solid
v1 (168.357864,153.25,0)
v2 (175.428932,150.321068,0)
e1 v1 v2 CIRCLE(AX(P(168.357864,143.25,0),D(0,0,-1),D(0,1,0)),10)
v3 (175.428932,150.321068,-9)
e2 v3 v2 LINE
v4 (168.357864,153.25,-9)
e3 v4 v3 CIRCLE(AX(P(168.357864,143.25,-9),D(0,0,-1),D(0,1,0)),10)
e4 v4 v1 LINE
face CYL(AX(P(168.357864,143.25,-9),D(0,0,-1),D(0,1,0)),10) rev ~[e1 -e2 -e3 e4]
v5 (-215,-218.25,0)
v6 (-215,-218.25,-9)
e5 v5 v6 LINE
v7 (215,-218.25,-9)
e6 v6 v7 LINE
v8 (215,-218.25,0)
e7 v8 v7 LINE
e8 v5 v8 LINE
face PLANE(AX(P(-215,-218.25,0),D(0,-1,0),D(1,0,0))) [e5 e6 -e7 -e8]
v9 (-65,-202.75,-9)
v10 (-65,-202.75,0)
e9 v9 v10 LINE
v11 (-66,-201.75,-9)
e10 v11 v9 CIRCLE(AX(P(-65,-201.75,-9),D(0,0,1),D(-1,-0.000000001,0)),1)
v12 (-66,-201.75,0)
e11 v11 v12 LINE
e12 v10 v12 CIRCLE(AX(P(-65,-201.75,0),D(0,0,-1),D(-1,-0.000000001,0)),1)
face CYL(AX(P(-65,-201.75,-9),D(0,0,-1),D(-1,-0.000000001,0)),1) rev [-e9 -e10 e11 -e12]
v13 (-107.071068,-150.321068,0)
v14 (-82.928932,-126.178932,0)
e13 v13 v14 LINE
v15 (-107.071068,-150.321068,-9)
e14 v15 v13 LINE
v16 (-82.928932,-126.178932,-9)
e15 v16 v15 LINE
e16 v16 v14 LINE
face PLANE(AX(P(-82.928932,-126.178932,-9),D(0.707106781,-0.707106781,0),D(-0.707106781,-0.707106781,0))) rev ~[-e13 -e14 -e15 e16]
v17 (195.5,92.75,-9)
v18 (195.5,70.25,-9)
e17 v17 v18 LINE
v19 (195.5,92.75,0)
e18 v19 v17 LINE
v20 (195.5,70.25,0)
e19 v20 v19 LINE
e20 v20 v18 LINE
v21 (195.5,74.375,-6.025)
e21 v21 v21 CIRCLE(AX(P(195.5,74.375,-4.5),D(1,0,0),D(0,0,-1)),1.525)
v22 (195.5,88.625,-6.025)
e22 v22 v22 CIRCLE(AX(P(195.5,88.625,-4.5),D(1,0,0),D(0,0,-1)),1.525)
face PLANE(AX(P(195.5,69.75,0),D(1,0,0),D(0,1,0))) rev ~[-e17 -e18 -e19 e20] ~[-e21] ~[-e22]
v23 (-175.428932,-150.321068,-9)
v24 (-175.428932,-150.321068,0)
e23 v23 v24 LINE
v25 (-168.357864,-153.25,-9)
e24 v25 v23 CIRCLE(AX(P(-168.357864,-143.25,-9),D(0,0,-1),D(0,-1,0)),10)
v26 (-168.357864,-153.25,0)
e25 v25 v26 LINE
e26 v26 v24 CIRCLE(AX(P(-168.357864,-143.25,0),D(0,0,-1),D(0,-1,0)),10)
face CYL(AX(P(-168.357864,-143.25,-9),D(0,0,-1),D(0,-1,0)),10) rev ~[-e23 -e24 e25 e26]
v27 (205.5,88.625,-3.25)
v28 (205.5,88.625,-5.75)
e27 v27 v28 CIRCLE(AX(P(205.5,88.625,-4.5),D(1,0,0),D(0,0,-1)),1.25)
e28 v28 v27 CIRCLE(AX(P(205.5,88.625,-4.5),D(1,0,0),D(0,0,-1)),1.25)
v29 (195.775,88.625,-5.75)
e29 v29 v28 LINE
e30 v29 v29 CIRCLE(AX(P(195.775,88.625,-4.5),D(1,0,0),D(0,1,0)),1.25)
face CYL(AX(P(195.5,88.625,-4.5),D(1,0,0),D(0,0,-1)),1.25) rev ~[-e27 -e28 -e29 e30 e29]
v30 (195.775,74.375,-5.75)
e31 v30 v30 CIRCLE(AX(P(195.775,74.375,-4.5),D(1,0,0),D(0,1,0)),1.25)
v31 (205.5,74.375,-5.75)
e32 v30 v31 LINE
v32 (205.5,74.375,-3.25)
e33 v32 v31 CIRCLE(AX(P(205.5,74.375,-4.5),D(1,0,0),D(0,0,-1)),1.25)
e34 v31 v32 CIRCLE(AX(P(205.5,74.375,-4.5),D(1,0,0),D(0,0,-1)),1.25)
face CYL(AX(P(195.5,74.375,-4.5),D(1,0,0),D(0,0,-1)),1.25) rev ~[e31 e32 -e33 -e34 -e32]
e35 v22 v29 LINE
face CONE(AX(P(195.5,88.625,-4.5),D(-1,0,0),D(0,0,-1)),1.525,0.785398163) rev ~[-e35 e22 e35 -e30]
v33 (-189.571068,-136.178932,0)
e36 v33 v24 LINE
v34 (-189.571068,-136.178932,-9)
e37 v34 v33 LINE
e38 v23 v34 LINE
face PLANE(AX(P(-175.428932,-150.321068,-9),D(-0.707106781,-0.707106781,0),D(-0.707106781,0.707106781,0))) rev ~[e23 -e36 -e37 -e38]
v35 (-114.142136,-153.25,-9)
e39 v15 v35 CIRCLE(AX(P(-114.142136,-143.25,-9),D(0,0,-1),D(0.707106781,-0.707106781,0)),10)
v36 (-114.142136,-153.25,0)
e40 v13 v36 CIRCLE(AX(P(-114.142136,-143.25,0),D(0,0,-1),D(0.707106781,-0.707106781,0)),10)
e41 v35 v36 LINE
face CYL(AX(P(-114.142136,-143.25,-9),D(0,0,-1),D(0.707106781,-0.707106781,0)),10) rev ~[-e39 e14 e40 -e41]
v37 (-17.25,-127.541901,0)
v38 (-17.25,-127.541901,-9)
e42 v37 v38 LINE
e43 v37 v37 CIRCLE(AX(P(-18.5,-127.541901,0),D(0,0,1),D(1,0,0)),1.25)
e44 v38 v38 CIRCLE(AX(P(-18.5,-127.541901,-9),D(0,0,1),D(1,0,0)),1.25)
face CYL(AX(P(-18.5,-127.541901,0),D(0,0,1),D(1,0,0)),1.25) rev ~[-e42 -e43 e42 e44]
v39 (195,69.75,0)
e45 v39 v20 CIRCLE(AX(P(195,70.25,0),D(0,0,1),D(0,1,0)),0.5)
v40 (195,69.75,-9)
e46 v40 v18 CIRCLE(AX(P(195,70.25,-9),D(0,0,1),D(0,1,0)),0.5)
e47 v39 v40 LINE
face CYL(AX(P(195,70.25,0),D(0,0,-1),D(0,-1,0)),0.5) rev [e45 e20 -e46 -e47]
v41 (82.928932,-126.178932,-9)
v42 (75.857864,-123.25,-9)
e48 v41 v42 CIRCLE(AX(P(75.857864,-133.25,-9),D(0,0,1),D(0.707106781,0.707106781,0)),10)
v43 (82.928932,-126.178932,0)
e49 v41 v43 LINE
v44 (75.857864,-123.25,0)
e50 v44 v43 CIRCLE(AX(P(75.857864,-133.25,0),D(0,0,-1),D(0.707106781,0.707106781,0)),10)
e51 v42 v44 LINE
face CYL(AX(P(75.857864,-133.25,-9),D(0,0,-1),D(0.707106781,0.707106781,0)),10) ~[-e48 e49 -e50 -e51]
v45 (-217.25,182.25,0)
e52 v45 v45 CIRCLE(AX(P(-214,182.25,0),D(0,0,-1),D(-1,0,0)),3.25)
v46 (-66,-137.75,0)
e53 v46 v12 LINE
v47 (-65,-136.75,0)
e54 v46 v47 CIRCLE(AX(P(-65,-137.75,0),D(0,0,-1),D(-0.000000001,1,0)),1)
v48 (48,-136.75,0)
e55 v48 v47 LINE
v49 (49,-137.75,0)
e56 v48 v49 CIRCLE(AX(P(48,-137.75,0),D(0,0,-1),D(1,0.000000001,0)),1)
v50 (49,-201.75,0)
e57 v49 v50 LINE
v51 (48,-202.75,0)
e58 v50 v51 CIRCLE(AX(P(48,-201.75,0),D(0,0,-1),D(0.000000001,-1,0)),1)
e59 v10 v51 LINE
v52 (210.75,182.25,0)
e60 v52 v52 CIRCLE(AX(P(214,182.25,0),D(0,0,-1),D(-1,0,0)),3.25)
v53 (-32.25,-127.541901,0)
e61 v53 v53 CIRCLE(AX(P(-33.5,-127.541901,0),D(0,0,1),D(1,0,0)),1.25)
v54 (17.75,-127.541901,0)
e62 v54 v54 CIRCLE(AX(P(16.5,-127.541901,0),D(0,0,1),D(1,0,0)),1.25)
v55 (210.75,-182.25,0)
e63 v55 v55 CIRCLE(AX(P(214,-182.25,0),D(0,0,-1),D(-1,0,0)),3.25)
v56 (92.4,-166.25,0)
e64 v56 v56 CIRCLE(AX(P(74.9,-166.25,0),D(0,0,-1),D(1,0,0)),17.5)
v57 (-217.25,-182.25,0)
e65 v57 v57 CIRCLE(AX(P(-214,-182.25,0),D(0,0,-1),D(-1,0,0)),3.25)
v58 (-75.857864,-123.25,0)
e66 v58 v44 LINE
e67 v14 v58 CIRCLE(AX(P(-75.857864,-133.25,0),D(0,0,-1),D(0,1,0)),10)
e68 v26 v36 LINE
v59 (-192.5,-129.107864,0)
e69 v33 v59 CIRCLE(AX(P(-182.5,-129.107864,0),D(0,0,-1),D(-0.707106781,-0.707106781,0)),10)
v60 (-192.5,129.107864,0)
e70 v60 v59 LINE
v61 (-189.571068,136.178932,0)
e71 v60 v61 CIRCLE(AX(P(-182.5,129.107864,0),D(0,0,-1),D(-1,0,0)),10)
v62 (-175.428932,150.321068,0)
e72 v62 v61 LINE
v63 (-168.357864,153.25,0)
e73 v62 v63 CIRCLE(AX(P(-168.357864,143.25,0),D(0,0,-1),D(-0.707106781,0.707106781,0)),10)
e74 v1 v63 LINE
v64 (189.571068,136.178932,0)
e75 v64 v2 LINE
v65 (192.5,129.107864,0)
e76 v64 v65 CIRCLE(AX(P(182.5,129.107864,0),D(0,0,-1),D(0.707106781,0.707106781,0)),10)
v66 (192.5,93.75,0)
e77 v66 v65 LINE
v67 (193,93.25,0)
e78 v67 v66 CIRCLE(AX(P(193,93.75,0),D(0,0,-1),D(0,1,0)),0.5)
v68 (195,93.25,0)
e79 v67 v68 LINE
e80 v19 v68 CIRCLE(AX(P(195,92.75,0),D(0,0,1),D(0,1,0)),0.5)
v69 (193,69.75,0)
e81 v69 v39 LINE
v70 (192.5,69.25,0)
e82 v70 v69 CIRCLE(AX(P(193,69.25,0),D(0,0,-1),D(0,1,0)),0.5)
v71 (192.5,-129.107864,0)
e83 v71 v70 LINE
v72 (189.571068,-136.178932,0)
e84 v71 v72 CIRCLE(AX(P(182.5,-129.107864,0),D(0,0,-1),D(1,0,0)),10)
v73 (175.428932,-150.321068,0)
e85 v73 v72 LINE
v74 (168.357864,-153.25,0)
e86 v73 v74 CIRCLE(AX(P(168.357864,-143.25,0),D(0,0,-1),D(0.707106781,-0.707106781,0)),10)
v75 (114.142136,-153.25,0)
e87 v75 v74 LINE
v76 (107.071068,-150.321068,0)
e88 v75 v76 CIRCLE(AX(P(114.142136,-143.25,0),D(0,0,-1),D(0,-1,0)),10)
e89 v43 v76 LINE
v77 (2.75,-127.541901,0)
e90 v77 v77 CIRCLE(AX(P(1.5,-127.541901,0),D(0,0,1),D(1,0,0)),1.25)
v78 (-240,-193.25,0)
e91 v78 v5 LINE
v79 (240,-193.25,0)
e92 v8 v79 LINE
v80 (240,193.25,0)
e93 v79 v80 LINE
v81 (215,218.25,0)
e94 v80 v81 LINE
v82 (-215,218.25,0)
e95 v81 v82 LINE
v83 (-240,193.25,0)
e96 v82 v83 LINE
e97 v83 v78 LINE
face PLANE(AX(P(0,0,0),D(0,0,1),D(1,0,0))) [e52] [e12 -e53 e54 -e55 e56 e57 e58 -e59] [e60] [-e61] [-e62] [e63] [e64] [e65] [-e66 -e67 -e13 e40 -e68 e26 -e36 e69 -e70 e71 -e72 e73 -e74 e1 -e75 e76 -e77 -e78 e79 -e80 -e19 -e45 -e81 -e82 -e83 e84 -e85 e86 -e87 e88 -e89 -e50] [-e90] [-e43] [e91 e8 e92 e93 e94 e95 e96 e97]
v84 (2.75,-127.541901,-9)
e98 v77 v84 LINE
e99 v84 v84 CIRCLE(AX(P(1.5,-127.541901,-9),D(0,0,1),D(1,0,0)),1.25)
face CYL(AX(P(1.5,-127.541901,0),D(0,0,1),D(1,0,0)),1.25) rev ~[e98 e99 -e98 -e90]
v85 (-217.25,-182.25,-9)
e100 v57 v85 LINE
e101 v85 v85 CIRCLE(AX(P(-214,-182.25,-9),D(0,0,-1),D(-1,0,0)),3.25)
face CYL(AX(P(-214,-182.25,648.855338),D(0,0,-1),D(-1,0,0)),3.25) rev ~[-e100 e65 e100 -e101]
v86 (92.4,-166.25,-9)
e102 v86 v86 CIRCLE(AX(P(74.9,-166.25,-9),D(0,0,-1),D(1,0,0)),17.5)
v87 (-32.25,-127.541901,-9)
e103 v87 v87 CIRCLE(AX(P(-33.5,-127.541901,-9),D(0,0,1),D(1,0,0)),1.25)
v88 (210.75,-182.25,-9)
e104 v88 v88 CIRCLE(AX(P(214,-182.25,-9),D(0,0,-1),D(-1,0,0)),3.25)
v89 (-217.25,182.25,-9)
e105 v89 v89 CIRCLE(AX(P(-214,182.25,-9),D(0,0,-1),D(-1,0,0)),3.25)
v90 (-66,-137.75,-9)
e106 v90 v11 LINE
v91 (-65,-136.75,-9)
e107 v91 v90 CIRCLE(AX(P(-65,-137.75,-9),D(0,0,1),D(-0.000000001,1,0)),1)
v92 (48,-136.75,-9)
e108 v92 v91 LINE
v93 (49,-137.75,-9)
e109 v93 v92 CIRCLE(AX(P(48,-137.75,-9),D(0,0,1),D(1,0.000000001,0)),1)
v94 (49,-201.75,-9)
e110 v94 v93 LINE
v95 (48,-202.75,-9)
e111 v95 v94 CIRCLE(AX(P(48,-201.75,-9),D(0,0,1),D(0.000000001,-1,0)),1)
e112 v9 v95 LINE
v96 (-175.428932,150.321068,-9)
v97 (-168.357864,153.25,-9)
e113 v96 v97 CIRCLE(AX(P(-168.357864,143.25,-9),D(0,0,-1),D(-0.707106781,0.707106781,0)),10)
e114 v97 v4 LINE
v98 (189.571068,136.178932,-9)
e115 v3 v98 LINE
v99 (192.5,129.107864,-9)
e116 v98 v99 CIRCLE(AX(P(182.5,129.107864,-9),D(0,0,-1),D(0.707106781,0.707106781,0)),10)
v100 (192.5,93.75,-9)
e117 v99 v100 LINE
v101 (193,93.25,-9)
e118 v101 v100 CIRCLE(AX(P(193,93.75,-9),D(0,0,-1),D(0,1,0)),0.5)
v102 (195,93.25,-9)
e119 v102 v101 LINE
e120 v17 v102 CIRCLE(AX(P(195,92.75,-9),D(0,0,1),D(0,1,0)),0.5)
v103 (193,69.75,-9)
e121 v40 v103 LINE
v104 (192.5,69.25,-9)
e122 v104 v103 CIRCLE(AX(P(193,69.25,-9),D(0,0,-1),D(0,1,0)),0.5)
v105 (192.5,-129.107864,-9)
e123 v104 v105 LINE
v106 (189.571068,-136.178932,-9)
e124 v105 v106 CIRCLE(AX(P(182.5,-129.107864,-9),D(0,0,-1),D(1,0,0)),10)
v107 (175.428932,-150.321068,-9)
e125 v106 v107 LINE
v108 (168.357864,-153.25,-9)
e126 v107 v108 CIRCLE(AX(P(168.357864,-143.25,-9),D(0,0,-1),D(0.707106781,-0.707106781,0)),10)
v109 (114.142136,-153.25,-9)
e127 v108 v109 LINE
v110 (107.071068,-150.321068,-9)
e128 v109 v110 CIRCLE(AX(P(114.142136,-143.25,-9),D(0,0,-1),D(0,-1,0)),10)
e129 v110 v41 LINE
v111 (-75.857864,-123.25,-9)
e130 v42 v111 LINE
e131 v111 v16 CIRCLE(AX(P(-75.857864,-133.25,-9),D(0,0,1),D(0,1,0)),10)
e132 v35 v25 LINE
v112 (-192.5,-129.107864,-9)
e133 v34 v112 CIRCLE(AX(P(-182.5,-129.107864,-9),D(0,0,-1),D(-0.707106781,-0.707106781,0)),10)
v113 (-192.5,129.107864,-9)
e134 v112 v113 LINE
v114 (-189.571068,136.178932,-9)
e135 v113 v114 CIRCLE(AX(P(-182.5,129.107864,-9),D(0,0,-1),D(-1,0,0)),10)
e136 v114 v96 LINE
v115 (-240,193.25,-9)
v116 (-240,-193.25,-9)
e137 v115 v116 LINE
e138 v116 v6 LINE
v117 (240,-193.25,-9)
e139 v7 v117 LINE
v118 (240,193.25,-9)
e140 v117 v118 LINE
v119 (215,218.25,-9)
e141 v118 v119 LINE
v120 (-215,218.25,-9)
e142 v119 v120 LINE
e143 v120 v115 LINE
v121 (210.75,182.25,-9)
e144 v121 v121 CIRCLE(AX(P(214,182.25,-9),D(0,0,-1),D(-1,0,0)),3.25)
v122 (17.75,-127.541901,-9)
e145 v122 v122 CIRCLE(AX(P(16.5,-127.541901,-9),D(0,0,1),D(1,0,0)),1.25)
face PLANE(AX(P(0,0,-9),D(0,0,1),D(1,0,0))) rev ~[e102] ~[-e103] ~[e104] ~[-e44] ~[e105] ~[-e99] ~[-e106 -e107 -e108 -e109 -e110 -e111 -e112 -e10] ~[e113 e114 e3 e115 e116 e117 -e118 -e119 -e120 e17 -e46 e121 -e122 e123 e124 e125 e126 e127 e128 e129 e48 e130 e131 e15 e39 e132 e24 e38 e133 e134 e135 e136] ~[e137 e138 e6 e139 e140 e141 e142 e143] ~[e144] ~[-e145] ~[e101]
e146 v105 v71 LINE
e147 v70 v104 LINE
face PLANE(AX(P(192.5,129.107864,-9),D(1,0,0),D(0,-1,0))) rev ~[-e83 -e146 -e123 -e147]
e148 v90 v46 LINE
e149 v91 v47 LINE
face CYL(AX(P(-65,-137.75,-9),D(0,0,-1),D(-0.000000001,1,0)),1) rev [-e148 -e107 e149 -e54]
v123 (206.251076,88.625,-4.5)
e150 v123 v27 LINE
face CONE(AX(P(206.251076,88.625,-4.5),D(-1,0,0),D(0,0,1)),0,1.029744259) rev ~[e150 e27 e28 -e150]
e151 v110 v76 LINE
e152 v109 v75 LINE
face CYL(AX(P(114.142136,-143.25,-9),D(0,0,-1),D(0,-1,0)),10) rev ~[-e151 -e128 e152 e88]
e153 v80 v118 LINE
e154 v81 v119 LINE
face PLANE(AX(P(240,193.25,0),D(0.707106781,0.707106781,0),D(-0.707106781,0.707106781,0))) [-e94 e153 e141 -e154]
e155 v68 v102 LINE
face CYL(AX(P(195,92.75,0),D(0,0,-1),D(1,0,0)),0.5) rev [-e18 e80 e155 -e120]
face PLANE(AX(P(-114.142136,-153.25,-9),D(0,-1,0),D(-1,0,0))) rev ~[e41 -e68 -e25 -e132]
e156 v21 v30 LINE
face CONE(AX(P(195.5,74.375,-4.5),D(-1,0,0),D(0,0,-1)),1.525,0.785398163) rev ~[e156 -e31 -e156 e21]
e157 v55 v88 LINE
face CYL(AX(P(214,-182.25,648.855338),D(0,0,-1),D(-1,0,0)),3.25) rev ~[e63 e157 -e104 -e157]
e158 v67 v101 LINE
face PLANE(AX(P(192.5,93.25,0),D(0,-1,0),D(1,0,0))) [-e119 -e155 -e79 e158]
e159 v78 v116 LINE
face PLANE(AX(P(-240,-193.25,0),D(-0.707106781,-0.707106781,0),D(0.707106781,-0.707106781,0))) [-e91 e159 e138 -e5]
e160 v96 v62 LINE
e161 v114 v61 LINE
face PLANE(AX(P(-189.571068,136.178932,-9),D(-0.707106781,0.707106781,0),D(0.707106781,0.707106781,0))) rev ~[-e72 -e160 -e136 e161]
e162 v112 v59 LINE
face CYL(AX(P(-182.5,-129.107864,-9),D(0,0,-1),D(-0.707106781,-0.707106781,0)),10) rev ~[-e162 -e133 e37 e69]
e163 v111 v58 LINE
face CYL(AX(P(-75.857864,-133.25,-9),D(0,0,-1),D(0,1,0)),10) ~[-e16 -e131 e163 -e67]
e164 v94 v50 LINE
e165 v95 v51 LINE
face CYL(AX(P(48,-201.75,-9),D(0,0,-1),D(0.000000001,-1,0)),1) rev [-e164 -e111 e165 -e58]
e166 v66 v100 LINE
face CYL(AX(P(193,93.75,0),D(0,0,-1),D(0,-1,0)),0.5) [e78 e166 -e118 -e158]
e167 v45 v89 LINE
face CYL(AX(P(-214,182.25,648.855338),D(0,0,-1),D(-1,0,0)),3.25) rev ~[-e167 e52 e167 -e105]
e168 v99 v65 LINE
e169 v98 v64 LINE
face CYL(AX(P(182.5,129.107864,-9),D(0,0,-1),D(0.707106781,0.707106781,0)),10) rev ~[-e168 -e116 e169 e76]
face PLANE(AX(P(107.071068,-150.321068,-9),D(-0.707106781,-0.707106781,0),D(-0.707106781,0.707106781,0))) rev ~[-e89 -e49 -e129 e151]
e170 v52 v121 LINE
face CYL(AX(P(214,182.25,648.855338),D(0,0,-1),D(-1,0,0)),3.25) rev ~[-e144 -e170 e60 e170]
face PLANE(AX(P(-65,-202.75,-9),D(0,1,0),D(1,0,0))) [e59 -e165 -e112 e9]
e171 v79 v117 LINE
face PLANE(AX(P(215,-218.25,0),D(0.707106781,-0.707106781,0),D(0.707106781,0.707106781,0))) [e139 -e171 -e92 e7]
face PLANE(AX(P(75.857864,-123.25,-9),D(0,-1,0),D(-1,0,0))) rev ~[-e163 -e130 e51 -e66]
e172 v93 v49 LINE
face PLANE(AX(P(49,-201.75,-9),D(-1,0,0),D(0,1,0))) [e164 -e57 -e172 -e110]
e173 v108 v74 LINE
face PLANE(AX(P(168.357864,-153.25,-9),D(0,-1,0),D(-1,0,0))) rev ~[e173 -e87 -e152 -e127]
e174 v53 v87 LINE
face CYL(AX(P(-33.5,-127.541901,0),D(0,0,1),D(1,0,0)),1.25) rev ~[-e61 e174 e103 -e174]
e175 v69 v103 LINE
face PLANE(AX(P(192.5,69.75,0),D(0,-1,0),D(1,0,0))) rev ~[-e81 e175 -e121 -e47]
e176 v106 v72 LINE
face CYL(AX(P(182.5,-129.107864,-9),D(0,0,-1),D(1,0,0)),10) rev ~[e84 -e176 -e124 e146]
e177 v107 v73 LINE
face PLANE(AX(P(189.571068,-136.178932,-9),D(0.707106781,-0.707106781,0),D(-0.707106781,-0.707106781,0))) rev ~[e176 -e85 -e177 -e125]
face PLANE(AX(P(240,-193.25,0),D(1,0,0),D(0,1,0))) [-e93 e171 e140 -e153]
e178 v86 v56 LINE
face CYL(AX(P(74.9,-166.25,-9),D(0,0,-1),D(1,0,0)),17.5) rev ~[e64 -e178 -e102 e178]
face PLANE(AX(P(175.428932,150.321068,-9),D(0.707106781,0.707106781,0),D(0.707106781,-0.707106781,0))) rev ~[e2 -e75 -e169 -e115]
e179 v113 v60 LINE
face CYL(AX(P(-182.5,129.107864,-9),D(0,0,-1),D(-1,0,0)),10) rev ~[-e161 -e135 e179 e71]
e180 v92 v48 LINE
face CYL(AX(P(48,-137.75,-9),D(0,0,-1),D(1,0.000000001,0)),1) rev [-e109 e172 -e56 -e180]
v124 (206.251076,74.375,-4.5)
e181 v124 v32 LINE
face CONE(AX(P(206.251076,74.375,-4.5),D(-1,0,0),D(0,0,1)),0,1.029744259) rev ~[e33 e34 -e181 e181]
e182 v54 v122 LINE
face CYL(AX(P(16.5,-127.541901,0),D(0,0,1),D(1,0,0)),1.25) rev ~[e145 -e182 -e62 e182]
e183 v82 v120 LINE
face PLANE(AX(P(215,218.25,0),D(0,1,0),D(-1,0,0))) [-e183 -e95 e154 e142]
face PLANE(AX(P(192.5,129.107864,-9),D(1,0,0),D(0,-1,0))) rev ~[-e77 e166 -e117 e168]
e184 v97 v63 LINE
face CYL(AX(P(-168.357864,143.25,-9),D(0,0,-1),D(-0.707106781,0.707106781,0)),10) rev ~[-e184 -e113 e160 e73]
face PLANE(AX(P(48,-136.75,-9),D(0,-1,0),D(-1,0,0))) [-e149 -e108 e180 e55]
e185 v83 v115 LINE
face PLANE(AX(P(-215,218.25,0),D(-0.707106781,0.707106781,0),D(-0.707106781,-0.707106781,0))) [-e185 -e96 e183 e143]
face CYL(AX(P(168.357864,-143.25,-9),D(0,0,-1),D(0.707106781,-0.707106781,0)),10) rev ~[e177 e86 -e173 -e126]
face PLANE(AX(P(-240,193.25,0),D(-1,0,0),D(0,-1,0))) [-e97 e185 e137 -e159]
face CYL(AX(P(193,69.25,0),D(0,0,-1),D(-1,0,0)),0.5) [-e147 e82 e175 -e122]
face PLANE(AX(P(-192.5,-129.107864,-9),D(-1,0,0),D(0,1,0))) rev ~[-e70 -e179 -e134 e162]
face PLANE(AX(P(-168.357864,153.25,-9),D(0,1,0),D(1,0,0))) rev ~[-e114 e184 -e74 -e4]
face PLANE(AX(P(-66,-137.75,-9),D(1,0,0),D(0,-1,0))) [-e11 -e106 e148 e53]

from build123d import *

# Parameters (mm, degrees)
BOSS_EXTRUDE1_DEPTH         = 9
CUT_EXTRUDE1_DEPTH          = 325.521282045
CUT_EXTRUDE2_DEPTH          = 325.521282045
SKETCH6_R                   = 17.5
CUT_EXTRUDE3_DEPTH          = 325.521282045
F_6_5_6_5_DIAMETER_HOLE1_D  = 6.5
CUT_EXTRUDE4_REACH          = 326.521
CUT_EXTRUDE5_REACH          = 326.521
SKETCH8_R                   = 1.25
CUT_EXTRUDE6_REACH          = 326.521
SKETCH9_W                   = 3
SKETCH9_H                   = 23.5
FILLET1_R                   = 0.5
M3_TAPPED_HOLE1_D           = 2.5
M3_TAPPED_HOLE1_DEPTH       = 10
M3_TAPPED_HOLE1_CSINK_D     = 3.05
M3_TAPPED_HOLE1_CSINK_ANGLE = 90
M3_TAPPED_HOLE1_TIP         = 0.751075774


with BuildPart() as part:
    # Sketch1 → Boss-Extrude1 (new body)
    with BuildSketch(Plane.XY):
        Polygon((-240, -193.25), (-215, -218.25), (215, -218.25), (240, -193.25), (240, 193.25), (215, 218.25), (-215, 218.25), (-240, 193.25), align=None)
    extrude(amount=-BOSS_EXTRUDE1_DEPTH)

    # Sketch2 → Cut-Extrude1 (cut, through all)
    with BuildSketch(Plane(origin=(0, 0, -9), x_dir=(-1, 0, 0), z_dir=(0, 0, -1))):
        with BuildLine():
            Line((114.142135624, -153.25), (168.357864376, -153.25))
            ThreePointArc((168.357864376, -153.25), (172.1846987, -152.488795325), (175.428932188, -150.321067812))
            Line((175.428932188, -150.321067812), (189.571067812, -136.178932188))
            ThreePointArc((189.571067812, -136.178932188), (191.738795325, -132.9346987), (192.5, -129.107864376))
            Line((192.5, -129.107864376), (192.5, 129.107864376))
            ThreePointArc((192.5, 129.107864376), (191.738795325, 132.9346987), (189.571067812, 136.178932188))
            Line((189.571067812, 136.178932188), (175.428932188, 150.321067812))
            ThreePointArc((175.428932188, 150.321067812), (172.1846987, 152.488795325), (168.357864376, 153.25))
            Line((168.357864376, 153.25), (-168.357864376, 153.25))
            ThreePointArc((-168.357864376, 153.25), (-172.1846987, 152.488795325), (-175.428932188, 150.321067812))
            Line((-175.428932188, 150.321067812), (-189.571067812, 136.178932188))
            ThreePointArc((-189.571067812, 136.178932188), (-191.738795325, 132.9346987), (-192.5, 129.107864376))
            Line((-192.5, 129.107864376), (-192.5, -129.107864376))
            ThreePointArc((-192.5, -129.107864376), (-191.738795325, -132.9346987), (-189.571067812, -136.178932188))
            Line((-189.571067812, -136.178932188), (-175.428932188, -150.321067812))
            ThreePointArc((-175.428932188, -150.321067812), (-172.1846987, -152.488795325), (-168.357864376, -153.25))
            Line((-168.357864376, -153.25), (-114.142135624, -153.25))
            ThreePointArc((-114.142135624, -153.25), (-110.3153013, -152.488795325), (-107.071067812, -150.321067812))
            Line((-107.071067812, -150.321067812), (-82.928932183, -126.178932183))
            ThreePointArc((-82.928932183, -126.178932183), (-79.684698695, -124.01120467), (-75.857864371, -123.249999995))
            Line((-75.857864371, -123.249999995), (75.857864371, -123.249999995))
            ThreePointArc((75.857864371, -123.249999995), (79.684698695, -124.01120467), (82.928932183, -126.178932183))
            Line((82.928932183, -126.178932183), (107.071067812, -150.321067812))
            ThreePointArc((107.071067812, -150.321067812), (110.3153013, -152.488795325), (114.142135624, -153.25))
        make_face()
    extrude(amount=-CUT_EXTRUDE1_DEPTH, mode=Mode.SUBTRACT)

    # Sketch3 → Cut-Extrude2 (cut, through all)
    with BuildSketch(Plane(origin=(0, 0, -9), x_dir=(-1, 0, 0), z_dir=(0, 0, -1))):
        with BuildLine():
            Line((48, -149.249999995), (-48, -149.249999995))
            ThreePointArc((-48, -149.249999995), (-48.707106781, -149.542893214), (-49, -150.249999995))
            Line((-49, -150.249999995), (-49, -189.249999995))
            ThreePointArc((-49, -189.249999995), (-48.707106781, -189.957106776), (-48, -190.249999995))
            Line((-48, -190.249999995), (48, -190.249999995))
            ThreePointArc((48, -190.249999995), (48.707106781, -189.957106776), (49, -189.249999995))
            Line((49, -189.249999995), (49, -150.249999995))
            ThreePointArc((49, -150.249999995), (48.707106781, -149.542893214), (48, -149.249999995))
        make_face()
    extrude(amount=-CUT_EXTRUDE2_DEPTH, mode=Mode.SUBTRACT)

    # Sketch6 → Cut-Extrude3 (cut, through all)
    with BuildSketch(Plane(origin=(0, 0, -9), x_dir=(-1, 0, 0), z_dir=(0, 0, -1))):
        with Locations(Location((-74.9, -166.249999995, 0), (0, 0, 180))):
            Circle(SKETCH6_R)
    extrude(amount=-CUT_EXTRUDE3_DEPTH, mode=Mode.SUBTRACT)

    # Ø6.5 (6.5) Diameter Hole1 (through all)
    with Locations(Plane.XY):
        with Locations((214, -182.25), (-214, -182.25), (-214, 182.25), (214, 182.25)):
            Hole(F_6_5_6_5_DIAMETER_HOLE1_D / 2)

    # Sketch7 → Cut-Extrude4 (cut, up to next)
    with BuildSketch(Plane(origin=(0, 0, -9), x_dir=(-1, 0, 0), z_dir=(0, 0, -1)), mode=Mode.PRIVATE) as cut_extrude4_sk1:
        with BuildLine():
            Line((-48, -136.75), (65, -136.75))
            ThreePointArc((65, -136.75), (65.707106781, -137.042893219), (66, -137.75))
            Line((66, -137.75), (66, -201.75))
            ThreePointArc((66, -201.75), (65.707106781, -202.457106781), (65, -202.75))
            Line((65, -202.75), (-48, -202.75))
            ThreePointArc((-48, -202.75), (-48.707106781, -202.457106781), (-49, -201.75))
            Line((-49, -201.75), (-49, -137.75))
            ThreePointArc((-49, -137.75), (-48.707106781, -137.042893219), (-48, -136.75))
        make_face()
    cut_extrude4_tool1 = extrude(cut_extrude4_sk1.sketch, amount=-CUT_EXTRUDE4_REACH, mode=Mode.PRIVATE) & part.part
    add(cut_extrude4_tool1.solids().sort_by_distance((-8.5, -169.75, -9))[0], mode=Mode.SUBTRACT)

    # Sketch8 → Cut-Extrude5 (cut, up to next)
    with BuildSketch(Plane.XY, mode=Mode.PRIVATE) as cut_extrude5_sk1:
        with Locations((-33.5, -127.541900756)):
            Circle(SKETCH8_R)
    cut_extrude5_tool1 = extrude(cut_extrude5_sk1.sketch, amount=-CUT_EXTRUDE5_REACH, mode=Mode.PRIVATE) & part.part
    # Sketch8 → Cut-Extrude5 (cut, up to next)
    with BuildSketch(Plane.XY, mode=Mode.PRIVATE) as cut_extrude5_sk2:
        with Locations((-18.5, -127.541900756)):
            Circle(SKETCH8_R)
    cut_extrude5_tool2 = extrude(cut_extrude5_sk2.sketch, amount=-CUT_EXTRUDE5_REACH, mode=Mode.PRIVATE) & part.part
    # Sketch8 → Cut-Extrude5 (cut, up to next)
    with BuildSketch(Plane.XY, mode=Mode.PRIVATE) as cut_extrude5_sk3:
        with Locations((1.5, -127.541900756)):
            Circle(SKETCH8_R)
    cut_extrude5_tool3 = extrude(cut_extrude5_sk3.sketch, amount=-CUT_EXTRUDE5_REACH, mode=Mode.PRIVATE) & part.part
    # Sketch8 → Cut-Extrude5 (cut, up to next)
    with BuildSketch(Plane.XY, mode=Mode.PRIVATE) as cut_extrude5_sk4:
        with Locations((16.5, -127.541900756)):
            Circle(SKETCH8_R)
    cut_extrude5_tool4 = extrude(cut_extrude5_sk4.sketch, amount=-CUT_EXTRUDE5_REACH, mode=Mode.PRIVATE) & part.part
    add(cut_extrude5_tool1.solids().sort_by_distance((-33.5, -127.541901, 0))[0], mode=Mode.SUBTRACT)
    add(cut_extrude5_tool2.solids().sort_by_distance((-18.5, -127.541901, 0))[0], mode=Mode.SUBTRACT)
    add(cut_extrude5_tool3.solids().sort_by_distance((1.5, -127.541901, 0))[0], mode=Mode.SUBTRACT)
    add(cut_extrude5_tool4.solids().sort_by_distance((16.5, -127.541901, 0))[0], mode=Mode.SUBTRACT)

    # Sketch9 → Cut-Extrude6 (cut, up to next)
    with BuildSketch(Plane.XY, mode=Mode.PRIVATE) as cut_extrude6_sk1:
        with Locations((194, 81.5)):
            Rectangle(SKETCH9_W, SKETCH9_H)
    cut_extrude6_tool1 = extrude(cut_extrude6_sk1.sketch, amount=-CUT_EXTRUDE6_REACH, mode=Mode.PRIVATE) & part.part
    add(cut_extrude6_tool1.solids().sort_by_distance((194, 81.5, 0))[0], mode=Mode.SUBTRACT)

    # Fillet1
    fillet1_edges = [part.edges().sort_by_distance(p)[0] for p in [
        (192.5, 69.75, -4.5),
        (192.5, 93.25, -4.5),
        (195.5, 93.25, -4.5),
        (195.5, 69.75, -4.5),
    ]]
    fillet(fillet1_edges, radius=FILLET1_R)

    # M3 Tapped Hole1
    with Locations(Plane.ZY.offset(-195.5)):
        with Locations((-4.5, 88.625), (-4.5, 74.375)):
            CounterSinkHole(M3_TAPPED_HOLE1_D / 2, M3_TAPPED_HOLE1_CSINK_D / 2, depth=M3_TAPPED_HOLE1_DEPTH, counter_sink_angle=M3_TAPPED_HOLE1_CSINK_ANGLE)
            with Locations((0, 0, -(M3_TAPPED_HOLE1_DEPTH + M3_TAPPED_HOLE1_TIP / 2))):  # 118° drill point
                Cone(0, M3_TAPPED_HOLE1_D / 2, M3_TAPPED_HOLE1_TIP, mode=Mode.SUBTRACT)


solid = part.part
